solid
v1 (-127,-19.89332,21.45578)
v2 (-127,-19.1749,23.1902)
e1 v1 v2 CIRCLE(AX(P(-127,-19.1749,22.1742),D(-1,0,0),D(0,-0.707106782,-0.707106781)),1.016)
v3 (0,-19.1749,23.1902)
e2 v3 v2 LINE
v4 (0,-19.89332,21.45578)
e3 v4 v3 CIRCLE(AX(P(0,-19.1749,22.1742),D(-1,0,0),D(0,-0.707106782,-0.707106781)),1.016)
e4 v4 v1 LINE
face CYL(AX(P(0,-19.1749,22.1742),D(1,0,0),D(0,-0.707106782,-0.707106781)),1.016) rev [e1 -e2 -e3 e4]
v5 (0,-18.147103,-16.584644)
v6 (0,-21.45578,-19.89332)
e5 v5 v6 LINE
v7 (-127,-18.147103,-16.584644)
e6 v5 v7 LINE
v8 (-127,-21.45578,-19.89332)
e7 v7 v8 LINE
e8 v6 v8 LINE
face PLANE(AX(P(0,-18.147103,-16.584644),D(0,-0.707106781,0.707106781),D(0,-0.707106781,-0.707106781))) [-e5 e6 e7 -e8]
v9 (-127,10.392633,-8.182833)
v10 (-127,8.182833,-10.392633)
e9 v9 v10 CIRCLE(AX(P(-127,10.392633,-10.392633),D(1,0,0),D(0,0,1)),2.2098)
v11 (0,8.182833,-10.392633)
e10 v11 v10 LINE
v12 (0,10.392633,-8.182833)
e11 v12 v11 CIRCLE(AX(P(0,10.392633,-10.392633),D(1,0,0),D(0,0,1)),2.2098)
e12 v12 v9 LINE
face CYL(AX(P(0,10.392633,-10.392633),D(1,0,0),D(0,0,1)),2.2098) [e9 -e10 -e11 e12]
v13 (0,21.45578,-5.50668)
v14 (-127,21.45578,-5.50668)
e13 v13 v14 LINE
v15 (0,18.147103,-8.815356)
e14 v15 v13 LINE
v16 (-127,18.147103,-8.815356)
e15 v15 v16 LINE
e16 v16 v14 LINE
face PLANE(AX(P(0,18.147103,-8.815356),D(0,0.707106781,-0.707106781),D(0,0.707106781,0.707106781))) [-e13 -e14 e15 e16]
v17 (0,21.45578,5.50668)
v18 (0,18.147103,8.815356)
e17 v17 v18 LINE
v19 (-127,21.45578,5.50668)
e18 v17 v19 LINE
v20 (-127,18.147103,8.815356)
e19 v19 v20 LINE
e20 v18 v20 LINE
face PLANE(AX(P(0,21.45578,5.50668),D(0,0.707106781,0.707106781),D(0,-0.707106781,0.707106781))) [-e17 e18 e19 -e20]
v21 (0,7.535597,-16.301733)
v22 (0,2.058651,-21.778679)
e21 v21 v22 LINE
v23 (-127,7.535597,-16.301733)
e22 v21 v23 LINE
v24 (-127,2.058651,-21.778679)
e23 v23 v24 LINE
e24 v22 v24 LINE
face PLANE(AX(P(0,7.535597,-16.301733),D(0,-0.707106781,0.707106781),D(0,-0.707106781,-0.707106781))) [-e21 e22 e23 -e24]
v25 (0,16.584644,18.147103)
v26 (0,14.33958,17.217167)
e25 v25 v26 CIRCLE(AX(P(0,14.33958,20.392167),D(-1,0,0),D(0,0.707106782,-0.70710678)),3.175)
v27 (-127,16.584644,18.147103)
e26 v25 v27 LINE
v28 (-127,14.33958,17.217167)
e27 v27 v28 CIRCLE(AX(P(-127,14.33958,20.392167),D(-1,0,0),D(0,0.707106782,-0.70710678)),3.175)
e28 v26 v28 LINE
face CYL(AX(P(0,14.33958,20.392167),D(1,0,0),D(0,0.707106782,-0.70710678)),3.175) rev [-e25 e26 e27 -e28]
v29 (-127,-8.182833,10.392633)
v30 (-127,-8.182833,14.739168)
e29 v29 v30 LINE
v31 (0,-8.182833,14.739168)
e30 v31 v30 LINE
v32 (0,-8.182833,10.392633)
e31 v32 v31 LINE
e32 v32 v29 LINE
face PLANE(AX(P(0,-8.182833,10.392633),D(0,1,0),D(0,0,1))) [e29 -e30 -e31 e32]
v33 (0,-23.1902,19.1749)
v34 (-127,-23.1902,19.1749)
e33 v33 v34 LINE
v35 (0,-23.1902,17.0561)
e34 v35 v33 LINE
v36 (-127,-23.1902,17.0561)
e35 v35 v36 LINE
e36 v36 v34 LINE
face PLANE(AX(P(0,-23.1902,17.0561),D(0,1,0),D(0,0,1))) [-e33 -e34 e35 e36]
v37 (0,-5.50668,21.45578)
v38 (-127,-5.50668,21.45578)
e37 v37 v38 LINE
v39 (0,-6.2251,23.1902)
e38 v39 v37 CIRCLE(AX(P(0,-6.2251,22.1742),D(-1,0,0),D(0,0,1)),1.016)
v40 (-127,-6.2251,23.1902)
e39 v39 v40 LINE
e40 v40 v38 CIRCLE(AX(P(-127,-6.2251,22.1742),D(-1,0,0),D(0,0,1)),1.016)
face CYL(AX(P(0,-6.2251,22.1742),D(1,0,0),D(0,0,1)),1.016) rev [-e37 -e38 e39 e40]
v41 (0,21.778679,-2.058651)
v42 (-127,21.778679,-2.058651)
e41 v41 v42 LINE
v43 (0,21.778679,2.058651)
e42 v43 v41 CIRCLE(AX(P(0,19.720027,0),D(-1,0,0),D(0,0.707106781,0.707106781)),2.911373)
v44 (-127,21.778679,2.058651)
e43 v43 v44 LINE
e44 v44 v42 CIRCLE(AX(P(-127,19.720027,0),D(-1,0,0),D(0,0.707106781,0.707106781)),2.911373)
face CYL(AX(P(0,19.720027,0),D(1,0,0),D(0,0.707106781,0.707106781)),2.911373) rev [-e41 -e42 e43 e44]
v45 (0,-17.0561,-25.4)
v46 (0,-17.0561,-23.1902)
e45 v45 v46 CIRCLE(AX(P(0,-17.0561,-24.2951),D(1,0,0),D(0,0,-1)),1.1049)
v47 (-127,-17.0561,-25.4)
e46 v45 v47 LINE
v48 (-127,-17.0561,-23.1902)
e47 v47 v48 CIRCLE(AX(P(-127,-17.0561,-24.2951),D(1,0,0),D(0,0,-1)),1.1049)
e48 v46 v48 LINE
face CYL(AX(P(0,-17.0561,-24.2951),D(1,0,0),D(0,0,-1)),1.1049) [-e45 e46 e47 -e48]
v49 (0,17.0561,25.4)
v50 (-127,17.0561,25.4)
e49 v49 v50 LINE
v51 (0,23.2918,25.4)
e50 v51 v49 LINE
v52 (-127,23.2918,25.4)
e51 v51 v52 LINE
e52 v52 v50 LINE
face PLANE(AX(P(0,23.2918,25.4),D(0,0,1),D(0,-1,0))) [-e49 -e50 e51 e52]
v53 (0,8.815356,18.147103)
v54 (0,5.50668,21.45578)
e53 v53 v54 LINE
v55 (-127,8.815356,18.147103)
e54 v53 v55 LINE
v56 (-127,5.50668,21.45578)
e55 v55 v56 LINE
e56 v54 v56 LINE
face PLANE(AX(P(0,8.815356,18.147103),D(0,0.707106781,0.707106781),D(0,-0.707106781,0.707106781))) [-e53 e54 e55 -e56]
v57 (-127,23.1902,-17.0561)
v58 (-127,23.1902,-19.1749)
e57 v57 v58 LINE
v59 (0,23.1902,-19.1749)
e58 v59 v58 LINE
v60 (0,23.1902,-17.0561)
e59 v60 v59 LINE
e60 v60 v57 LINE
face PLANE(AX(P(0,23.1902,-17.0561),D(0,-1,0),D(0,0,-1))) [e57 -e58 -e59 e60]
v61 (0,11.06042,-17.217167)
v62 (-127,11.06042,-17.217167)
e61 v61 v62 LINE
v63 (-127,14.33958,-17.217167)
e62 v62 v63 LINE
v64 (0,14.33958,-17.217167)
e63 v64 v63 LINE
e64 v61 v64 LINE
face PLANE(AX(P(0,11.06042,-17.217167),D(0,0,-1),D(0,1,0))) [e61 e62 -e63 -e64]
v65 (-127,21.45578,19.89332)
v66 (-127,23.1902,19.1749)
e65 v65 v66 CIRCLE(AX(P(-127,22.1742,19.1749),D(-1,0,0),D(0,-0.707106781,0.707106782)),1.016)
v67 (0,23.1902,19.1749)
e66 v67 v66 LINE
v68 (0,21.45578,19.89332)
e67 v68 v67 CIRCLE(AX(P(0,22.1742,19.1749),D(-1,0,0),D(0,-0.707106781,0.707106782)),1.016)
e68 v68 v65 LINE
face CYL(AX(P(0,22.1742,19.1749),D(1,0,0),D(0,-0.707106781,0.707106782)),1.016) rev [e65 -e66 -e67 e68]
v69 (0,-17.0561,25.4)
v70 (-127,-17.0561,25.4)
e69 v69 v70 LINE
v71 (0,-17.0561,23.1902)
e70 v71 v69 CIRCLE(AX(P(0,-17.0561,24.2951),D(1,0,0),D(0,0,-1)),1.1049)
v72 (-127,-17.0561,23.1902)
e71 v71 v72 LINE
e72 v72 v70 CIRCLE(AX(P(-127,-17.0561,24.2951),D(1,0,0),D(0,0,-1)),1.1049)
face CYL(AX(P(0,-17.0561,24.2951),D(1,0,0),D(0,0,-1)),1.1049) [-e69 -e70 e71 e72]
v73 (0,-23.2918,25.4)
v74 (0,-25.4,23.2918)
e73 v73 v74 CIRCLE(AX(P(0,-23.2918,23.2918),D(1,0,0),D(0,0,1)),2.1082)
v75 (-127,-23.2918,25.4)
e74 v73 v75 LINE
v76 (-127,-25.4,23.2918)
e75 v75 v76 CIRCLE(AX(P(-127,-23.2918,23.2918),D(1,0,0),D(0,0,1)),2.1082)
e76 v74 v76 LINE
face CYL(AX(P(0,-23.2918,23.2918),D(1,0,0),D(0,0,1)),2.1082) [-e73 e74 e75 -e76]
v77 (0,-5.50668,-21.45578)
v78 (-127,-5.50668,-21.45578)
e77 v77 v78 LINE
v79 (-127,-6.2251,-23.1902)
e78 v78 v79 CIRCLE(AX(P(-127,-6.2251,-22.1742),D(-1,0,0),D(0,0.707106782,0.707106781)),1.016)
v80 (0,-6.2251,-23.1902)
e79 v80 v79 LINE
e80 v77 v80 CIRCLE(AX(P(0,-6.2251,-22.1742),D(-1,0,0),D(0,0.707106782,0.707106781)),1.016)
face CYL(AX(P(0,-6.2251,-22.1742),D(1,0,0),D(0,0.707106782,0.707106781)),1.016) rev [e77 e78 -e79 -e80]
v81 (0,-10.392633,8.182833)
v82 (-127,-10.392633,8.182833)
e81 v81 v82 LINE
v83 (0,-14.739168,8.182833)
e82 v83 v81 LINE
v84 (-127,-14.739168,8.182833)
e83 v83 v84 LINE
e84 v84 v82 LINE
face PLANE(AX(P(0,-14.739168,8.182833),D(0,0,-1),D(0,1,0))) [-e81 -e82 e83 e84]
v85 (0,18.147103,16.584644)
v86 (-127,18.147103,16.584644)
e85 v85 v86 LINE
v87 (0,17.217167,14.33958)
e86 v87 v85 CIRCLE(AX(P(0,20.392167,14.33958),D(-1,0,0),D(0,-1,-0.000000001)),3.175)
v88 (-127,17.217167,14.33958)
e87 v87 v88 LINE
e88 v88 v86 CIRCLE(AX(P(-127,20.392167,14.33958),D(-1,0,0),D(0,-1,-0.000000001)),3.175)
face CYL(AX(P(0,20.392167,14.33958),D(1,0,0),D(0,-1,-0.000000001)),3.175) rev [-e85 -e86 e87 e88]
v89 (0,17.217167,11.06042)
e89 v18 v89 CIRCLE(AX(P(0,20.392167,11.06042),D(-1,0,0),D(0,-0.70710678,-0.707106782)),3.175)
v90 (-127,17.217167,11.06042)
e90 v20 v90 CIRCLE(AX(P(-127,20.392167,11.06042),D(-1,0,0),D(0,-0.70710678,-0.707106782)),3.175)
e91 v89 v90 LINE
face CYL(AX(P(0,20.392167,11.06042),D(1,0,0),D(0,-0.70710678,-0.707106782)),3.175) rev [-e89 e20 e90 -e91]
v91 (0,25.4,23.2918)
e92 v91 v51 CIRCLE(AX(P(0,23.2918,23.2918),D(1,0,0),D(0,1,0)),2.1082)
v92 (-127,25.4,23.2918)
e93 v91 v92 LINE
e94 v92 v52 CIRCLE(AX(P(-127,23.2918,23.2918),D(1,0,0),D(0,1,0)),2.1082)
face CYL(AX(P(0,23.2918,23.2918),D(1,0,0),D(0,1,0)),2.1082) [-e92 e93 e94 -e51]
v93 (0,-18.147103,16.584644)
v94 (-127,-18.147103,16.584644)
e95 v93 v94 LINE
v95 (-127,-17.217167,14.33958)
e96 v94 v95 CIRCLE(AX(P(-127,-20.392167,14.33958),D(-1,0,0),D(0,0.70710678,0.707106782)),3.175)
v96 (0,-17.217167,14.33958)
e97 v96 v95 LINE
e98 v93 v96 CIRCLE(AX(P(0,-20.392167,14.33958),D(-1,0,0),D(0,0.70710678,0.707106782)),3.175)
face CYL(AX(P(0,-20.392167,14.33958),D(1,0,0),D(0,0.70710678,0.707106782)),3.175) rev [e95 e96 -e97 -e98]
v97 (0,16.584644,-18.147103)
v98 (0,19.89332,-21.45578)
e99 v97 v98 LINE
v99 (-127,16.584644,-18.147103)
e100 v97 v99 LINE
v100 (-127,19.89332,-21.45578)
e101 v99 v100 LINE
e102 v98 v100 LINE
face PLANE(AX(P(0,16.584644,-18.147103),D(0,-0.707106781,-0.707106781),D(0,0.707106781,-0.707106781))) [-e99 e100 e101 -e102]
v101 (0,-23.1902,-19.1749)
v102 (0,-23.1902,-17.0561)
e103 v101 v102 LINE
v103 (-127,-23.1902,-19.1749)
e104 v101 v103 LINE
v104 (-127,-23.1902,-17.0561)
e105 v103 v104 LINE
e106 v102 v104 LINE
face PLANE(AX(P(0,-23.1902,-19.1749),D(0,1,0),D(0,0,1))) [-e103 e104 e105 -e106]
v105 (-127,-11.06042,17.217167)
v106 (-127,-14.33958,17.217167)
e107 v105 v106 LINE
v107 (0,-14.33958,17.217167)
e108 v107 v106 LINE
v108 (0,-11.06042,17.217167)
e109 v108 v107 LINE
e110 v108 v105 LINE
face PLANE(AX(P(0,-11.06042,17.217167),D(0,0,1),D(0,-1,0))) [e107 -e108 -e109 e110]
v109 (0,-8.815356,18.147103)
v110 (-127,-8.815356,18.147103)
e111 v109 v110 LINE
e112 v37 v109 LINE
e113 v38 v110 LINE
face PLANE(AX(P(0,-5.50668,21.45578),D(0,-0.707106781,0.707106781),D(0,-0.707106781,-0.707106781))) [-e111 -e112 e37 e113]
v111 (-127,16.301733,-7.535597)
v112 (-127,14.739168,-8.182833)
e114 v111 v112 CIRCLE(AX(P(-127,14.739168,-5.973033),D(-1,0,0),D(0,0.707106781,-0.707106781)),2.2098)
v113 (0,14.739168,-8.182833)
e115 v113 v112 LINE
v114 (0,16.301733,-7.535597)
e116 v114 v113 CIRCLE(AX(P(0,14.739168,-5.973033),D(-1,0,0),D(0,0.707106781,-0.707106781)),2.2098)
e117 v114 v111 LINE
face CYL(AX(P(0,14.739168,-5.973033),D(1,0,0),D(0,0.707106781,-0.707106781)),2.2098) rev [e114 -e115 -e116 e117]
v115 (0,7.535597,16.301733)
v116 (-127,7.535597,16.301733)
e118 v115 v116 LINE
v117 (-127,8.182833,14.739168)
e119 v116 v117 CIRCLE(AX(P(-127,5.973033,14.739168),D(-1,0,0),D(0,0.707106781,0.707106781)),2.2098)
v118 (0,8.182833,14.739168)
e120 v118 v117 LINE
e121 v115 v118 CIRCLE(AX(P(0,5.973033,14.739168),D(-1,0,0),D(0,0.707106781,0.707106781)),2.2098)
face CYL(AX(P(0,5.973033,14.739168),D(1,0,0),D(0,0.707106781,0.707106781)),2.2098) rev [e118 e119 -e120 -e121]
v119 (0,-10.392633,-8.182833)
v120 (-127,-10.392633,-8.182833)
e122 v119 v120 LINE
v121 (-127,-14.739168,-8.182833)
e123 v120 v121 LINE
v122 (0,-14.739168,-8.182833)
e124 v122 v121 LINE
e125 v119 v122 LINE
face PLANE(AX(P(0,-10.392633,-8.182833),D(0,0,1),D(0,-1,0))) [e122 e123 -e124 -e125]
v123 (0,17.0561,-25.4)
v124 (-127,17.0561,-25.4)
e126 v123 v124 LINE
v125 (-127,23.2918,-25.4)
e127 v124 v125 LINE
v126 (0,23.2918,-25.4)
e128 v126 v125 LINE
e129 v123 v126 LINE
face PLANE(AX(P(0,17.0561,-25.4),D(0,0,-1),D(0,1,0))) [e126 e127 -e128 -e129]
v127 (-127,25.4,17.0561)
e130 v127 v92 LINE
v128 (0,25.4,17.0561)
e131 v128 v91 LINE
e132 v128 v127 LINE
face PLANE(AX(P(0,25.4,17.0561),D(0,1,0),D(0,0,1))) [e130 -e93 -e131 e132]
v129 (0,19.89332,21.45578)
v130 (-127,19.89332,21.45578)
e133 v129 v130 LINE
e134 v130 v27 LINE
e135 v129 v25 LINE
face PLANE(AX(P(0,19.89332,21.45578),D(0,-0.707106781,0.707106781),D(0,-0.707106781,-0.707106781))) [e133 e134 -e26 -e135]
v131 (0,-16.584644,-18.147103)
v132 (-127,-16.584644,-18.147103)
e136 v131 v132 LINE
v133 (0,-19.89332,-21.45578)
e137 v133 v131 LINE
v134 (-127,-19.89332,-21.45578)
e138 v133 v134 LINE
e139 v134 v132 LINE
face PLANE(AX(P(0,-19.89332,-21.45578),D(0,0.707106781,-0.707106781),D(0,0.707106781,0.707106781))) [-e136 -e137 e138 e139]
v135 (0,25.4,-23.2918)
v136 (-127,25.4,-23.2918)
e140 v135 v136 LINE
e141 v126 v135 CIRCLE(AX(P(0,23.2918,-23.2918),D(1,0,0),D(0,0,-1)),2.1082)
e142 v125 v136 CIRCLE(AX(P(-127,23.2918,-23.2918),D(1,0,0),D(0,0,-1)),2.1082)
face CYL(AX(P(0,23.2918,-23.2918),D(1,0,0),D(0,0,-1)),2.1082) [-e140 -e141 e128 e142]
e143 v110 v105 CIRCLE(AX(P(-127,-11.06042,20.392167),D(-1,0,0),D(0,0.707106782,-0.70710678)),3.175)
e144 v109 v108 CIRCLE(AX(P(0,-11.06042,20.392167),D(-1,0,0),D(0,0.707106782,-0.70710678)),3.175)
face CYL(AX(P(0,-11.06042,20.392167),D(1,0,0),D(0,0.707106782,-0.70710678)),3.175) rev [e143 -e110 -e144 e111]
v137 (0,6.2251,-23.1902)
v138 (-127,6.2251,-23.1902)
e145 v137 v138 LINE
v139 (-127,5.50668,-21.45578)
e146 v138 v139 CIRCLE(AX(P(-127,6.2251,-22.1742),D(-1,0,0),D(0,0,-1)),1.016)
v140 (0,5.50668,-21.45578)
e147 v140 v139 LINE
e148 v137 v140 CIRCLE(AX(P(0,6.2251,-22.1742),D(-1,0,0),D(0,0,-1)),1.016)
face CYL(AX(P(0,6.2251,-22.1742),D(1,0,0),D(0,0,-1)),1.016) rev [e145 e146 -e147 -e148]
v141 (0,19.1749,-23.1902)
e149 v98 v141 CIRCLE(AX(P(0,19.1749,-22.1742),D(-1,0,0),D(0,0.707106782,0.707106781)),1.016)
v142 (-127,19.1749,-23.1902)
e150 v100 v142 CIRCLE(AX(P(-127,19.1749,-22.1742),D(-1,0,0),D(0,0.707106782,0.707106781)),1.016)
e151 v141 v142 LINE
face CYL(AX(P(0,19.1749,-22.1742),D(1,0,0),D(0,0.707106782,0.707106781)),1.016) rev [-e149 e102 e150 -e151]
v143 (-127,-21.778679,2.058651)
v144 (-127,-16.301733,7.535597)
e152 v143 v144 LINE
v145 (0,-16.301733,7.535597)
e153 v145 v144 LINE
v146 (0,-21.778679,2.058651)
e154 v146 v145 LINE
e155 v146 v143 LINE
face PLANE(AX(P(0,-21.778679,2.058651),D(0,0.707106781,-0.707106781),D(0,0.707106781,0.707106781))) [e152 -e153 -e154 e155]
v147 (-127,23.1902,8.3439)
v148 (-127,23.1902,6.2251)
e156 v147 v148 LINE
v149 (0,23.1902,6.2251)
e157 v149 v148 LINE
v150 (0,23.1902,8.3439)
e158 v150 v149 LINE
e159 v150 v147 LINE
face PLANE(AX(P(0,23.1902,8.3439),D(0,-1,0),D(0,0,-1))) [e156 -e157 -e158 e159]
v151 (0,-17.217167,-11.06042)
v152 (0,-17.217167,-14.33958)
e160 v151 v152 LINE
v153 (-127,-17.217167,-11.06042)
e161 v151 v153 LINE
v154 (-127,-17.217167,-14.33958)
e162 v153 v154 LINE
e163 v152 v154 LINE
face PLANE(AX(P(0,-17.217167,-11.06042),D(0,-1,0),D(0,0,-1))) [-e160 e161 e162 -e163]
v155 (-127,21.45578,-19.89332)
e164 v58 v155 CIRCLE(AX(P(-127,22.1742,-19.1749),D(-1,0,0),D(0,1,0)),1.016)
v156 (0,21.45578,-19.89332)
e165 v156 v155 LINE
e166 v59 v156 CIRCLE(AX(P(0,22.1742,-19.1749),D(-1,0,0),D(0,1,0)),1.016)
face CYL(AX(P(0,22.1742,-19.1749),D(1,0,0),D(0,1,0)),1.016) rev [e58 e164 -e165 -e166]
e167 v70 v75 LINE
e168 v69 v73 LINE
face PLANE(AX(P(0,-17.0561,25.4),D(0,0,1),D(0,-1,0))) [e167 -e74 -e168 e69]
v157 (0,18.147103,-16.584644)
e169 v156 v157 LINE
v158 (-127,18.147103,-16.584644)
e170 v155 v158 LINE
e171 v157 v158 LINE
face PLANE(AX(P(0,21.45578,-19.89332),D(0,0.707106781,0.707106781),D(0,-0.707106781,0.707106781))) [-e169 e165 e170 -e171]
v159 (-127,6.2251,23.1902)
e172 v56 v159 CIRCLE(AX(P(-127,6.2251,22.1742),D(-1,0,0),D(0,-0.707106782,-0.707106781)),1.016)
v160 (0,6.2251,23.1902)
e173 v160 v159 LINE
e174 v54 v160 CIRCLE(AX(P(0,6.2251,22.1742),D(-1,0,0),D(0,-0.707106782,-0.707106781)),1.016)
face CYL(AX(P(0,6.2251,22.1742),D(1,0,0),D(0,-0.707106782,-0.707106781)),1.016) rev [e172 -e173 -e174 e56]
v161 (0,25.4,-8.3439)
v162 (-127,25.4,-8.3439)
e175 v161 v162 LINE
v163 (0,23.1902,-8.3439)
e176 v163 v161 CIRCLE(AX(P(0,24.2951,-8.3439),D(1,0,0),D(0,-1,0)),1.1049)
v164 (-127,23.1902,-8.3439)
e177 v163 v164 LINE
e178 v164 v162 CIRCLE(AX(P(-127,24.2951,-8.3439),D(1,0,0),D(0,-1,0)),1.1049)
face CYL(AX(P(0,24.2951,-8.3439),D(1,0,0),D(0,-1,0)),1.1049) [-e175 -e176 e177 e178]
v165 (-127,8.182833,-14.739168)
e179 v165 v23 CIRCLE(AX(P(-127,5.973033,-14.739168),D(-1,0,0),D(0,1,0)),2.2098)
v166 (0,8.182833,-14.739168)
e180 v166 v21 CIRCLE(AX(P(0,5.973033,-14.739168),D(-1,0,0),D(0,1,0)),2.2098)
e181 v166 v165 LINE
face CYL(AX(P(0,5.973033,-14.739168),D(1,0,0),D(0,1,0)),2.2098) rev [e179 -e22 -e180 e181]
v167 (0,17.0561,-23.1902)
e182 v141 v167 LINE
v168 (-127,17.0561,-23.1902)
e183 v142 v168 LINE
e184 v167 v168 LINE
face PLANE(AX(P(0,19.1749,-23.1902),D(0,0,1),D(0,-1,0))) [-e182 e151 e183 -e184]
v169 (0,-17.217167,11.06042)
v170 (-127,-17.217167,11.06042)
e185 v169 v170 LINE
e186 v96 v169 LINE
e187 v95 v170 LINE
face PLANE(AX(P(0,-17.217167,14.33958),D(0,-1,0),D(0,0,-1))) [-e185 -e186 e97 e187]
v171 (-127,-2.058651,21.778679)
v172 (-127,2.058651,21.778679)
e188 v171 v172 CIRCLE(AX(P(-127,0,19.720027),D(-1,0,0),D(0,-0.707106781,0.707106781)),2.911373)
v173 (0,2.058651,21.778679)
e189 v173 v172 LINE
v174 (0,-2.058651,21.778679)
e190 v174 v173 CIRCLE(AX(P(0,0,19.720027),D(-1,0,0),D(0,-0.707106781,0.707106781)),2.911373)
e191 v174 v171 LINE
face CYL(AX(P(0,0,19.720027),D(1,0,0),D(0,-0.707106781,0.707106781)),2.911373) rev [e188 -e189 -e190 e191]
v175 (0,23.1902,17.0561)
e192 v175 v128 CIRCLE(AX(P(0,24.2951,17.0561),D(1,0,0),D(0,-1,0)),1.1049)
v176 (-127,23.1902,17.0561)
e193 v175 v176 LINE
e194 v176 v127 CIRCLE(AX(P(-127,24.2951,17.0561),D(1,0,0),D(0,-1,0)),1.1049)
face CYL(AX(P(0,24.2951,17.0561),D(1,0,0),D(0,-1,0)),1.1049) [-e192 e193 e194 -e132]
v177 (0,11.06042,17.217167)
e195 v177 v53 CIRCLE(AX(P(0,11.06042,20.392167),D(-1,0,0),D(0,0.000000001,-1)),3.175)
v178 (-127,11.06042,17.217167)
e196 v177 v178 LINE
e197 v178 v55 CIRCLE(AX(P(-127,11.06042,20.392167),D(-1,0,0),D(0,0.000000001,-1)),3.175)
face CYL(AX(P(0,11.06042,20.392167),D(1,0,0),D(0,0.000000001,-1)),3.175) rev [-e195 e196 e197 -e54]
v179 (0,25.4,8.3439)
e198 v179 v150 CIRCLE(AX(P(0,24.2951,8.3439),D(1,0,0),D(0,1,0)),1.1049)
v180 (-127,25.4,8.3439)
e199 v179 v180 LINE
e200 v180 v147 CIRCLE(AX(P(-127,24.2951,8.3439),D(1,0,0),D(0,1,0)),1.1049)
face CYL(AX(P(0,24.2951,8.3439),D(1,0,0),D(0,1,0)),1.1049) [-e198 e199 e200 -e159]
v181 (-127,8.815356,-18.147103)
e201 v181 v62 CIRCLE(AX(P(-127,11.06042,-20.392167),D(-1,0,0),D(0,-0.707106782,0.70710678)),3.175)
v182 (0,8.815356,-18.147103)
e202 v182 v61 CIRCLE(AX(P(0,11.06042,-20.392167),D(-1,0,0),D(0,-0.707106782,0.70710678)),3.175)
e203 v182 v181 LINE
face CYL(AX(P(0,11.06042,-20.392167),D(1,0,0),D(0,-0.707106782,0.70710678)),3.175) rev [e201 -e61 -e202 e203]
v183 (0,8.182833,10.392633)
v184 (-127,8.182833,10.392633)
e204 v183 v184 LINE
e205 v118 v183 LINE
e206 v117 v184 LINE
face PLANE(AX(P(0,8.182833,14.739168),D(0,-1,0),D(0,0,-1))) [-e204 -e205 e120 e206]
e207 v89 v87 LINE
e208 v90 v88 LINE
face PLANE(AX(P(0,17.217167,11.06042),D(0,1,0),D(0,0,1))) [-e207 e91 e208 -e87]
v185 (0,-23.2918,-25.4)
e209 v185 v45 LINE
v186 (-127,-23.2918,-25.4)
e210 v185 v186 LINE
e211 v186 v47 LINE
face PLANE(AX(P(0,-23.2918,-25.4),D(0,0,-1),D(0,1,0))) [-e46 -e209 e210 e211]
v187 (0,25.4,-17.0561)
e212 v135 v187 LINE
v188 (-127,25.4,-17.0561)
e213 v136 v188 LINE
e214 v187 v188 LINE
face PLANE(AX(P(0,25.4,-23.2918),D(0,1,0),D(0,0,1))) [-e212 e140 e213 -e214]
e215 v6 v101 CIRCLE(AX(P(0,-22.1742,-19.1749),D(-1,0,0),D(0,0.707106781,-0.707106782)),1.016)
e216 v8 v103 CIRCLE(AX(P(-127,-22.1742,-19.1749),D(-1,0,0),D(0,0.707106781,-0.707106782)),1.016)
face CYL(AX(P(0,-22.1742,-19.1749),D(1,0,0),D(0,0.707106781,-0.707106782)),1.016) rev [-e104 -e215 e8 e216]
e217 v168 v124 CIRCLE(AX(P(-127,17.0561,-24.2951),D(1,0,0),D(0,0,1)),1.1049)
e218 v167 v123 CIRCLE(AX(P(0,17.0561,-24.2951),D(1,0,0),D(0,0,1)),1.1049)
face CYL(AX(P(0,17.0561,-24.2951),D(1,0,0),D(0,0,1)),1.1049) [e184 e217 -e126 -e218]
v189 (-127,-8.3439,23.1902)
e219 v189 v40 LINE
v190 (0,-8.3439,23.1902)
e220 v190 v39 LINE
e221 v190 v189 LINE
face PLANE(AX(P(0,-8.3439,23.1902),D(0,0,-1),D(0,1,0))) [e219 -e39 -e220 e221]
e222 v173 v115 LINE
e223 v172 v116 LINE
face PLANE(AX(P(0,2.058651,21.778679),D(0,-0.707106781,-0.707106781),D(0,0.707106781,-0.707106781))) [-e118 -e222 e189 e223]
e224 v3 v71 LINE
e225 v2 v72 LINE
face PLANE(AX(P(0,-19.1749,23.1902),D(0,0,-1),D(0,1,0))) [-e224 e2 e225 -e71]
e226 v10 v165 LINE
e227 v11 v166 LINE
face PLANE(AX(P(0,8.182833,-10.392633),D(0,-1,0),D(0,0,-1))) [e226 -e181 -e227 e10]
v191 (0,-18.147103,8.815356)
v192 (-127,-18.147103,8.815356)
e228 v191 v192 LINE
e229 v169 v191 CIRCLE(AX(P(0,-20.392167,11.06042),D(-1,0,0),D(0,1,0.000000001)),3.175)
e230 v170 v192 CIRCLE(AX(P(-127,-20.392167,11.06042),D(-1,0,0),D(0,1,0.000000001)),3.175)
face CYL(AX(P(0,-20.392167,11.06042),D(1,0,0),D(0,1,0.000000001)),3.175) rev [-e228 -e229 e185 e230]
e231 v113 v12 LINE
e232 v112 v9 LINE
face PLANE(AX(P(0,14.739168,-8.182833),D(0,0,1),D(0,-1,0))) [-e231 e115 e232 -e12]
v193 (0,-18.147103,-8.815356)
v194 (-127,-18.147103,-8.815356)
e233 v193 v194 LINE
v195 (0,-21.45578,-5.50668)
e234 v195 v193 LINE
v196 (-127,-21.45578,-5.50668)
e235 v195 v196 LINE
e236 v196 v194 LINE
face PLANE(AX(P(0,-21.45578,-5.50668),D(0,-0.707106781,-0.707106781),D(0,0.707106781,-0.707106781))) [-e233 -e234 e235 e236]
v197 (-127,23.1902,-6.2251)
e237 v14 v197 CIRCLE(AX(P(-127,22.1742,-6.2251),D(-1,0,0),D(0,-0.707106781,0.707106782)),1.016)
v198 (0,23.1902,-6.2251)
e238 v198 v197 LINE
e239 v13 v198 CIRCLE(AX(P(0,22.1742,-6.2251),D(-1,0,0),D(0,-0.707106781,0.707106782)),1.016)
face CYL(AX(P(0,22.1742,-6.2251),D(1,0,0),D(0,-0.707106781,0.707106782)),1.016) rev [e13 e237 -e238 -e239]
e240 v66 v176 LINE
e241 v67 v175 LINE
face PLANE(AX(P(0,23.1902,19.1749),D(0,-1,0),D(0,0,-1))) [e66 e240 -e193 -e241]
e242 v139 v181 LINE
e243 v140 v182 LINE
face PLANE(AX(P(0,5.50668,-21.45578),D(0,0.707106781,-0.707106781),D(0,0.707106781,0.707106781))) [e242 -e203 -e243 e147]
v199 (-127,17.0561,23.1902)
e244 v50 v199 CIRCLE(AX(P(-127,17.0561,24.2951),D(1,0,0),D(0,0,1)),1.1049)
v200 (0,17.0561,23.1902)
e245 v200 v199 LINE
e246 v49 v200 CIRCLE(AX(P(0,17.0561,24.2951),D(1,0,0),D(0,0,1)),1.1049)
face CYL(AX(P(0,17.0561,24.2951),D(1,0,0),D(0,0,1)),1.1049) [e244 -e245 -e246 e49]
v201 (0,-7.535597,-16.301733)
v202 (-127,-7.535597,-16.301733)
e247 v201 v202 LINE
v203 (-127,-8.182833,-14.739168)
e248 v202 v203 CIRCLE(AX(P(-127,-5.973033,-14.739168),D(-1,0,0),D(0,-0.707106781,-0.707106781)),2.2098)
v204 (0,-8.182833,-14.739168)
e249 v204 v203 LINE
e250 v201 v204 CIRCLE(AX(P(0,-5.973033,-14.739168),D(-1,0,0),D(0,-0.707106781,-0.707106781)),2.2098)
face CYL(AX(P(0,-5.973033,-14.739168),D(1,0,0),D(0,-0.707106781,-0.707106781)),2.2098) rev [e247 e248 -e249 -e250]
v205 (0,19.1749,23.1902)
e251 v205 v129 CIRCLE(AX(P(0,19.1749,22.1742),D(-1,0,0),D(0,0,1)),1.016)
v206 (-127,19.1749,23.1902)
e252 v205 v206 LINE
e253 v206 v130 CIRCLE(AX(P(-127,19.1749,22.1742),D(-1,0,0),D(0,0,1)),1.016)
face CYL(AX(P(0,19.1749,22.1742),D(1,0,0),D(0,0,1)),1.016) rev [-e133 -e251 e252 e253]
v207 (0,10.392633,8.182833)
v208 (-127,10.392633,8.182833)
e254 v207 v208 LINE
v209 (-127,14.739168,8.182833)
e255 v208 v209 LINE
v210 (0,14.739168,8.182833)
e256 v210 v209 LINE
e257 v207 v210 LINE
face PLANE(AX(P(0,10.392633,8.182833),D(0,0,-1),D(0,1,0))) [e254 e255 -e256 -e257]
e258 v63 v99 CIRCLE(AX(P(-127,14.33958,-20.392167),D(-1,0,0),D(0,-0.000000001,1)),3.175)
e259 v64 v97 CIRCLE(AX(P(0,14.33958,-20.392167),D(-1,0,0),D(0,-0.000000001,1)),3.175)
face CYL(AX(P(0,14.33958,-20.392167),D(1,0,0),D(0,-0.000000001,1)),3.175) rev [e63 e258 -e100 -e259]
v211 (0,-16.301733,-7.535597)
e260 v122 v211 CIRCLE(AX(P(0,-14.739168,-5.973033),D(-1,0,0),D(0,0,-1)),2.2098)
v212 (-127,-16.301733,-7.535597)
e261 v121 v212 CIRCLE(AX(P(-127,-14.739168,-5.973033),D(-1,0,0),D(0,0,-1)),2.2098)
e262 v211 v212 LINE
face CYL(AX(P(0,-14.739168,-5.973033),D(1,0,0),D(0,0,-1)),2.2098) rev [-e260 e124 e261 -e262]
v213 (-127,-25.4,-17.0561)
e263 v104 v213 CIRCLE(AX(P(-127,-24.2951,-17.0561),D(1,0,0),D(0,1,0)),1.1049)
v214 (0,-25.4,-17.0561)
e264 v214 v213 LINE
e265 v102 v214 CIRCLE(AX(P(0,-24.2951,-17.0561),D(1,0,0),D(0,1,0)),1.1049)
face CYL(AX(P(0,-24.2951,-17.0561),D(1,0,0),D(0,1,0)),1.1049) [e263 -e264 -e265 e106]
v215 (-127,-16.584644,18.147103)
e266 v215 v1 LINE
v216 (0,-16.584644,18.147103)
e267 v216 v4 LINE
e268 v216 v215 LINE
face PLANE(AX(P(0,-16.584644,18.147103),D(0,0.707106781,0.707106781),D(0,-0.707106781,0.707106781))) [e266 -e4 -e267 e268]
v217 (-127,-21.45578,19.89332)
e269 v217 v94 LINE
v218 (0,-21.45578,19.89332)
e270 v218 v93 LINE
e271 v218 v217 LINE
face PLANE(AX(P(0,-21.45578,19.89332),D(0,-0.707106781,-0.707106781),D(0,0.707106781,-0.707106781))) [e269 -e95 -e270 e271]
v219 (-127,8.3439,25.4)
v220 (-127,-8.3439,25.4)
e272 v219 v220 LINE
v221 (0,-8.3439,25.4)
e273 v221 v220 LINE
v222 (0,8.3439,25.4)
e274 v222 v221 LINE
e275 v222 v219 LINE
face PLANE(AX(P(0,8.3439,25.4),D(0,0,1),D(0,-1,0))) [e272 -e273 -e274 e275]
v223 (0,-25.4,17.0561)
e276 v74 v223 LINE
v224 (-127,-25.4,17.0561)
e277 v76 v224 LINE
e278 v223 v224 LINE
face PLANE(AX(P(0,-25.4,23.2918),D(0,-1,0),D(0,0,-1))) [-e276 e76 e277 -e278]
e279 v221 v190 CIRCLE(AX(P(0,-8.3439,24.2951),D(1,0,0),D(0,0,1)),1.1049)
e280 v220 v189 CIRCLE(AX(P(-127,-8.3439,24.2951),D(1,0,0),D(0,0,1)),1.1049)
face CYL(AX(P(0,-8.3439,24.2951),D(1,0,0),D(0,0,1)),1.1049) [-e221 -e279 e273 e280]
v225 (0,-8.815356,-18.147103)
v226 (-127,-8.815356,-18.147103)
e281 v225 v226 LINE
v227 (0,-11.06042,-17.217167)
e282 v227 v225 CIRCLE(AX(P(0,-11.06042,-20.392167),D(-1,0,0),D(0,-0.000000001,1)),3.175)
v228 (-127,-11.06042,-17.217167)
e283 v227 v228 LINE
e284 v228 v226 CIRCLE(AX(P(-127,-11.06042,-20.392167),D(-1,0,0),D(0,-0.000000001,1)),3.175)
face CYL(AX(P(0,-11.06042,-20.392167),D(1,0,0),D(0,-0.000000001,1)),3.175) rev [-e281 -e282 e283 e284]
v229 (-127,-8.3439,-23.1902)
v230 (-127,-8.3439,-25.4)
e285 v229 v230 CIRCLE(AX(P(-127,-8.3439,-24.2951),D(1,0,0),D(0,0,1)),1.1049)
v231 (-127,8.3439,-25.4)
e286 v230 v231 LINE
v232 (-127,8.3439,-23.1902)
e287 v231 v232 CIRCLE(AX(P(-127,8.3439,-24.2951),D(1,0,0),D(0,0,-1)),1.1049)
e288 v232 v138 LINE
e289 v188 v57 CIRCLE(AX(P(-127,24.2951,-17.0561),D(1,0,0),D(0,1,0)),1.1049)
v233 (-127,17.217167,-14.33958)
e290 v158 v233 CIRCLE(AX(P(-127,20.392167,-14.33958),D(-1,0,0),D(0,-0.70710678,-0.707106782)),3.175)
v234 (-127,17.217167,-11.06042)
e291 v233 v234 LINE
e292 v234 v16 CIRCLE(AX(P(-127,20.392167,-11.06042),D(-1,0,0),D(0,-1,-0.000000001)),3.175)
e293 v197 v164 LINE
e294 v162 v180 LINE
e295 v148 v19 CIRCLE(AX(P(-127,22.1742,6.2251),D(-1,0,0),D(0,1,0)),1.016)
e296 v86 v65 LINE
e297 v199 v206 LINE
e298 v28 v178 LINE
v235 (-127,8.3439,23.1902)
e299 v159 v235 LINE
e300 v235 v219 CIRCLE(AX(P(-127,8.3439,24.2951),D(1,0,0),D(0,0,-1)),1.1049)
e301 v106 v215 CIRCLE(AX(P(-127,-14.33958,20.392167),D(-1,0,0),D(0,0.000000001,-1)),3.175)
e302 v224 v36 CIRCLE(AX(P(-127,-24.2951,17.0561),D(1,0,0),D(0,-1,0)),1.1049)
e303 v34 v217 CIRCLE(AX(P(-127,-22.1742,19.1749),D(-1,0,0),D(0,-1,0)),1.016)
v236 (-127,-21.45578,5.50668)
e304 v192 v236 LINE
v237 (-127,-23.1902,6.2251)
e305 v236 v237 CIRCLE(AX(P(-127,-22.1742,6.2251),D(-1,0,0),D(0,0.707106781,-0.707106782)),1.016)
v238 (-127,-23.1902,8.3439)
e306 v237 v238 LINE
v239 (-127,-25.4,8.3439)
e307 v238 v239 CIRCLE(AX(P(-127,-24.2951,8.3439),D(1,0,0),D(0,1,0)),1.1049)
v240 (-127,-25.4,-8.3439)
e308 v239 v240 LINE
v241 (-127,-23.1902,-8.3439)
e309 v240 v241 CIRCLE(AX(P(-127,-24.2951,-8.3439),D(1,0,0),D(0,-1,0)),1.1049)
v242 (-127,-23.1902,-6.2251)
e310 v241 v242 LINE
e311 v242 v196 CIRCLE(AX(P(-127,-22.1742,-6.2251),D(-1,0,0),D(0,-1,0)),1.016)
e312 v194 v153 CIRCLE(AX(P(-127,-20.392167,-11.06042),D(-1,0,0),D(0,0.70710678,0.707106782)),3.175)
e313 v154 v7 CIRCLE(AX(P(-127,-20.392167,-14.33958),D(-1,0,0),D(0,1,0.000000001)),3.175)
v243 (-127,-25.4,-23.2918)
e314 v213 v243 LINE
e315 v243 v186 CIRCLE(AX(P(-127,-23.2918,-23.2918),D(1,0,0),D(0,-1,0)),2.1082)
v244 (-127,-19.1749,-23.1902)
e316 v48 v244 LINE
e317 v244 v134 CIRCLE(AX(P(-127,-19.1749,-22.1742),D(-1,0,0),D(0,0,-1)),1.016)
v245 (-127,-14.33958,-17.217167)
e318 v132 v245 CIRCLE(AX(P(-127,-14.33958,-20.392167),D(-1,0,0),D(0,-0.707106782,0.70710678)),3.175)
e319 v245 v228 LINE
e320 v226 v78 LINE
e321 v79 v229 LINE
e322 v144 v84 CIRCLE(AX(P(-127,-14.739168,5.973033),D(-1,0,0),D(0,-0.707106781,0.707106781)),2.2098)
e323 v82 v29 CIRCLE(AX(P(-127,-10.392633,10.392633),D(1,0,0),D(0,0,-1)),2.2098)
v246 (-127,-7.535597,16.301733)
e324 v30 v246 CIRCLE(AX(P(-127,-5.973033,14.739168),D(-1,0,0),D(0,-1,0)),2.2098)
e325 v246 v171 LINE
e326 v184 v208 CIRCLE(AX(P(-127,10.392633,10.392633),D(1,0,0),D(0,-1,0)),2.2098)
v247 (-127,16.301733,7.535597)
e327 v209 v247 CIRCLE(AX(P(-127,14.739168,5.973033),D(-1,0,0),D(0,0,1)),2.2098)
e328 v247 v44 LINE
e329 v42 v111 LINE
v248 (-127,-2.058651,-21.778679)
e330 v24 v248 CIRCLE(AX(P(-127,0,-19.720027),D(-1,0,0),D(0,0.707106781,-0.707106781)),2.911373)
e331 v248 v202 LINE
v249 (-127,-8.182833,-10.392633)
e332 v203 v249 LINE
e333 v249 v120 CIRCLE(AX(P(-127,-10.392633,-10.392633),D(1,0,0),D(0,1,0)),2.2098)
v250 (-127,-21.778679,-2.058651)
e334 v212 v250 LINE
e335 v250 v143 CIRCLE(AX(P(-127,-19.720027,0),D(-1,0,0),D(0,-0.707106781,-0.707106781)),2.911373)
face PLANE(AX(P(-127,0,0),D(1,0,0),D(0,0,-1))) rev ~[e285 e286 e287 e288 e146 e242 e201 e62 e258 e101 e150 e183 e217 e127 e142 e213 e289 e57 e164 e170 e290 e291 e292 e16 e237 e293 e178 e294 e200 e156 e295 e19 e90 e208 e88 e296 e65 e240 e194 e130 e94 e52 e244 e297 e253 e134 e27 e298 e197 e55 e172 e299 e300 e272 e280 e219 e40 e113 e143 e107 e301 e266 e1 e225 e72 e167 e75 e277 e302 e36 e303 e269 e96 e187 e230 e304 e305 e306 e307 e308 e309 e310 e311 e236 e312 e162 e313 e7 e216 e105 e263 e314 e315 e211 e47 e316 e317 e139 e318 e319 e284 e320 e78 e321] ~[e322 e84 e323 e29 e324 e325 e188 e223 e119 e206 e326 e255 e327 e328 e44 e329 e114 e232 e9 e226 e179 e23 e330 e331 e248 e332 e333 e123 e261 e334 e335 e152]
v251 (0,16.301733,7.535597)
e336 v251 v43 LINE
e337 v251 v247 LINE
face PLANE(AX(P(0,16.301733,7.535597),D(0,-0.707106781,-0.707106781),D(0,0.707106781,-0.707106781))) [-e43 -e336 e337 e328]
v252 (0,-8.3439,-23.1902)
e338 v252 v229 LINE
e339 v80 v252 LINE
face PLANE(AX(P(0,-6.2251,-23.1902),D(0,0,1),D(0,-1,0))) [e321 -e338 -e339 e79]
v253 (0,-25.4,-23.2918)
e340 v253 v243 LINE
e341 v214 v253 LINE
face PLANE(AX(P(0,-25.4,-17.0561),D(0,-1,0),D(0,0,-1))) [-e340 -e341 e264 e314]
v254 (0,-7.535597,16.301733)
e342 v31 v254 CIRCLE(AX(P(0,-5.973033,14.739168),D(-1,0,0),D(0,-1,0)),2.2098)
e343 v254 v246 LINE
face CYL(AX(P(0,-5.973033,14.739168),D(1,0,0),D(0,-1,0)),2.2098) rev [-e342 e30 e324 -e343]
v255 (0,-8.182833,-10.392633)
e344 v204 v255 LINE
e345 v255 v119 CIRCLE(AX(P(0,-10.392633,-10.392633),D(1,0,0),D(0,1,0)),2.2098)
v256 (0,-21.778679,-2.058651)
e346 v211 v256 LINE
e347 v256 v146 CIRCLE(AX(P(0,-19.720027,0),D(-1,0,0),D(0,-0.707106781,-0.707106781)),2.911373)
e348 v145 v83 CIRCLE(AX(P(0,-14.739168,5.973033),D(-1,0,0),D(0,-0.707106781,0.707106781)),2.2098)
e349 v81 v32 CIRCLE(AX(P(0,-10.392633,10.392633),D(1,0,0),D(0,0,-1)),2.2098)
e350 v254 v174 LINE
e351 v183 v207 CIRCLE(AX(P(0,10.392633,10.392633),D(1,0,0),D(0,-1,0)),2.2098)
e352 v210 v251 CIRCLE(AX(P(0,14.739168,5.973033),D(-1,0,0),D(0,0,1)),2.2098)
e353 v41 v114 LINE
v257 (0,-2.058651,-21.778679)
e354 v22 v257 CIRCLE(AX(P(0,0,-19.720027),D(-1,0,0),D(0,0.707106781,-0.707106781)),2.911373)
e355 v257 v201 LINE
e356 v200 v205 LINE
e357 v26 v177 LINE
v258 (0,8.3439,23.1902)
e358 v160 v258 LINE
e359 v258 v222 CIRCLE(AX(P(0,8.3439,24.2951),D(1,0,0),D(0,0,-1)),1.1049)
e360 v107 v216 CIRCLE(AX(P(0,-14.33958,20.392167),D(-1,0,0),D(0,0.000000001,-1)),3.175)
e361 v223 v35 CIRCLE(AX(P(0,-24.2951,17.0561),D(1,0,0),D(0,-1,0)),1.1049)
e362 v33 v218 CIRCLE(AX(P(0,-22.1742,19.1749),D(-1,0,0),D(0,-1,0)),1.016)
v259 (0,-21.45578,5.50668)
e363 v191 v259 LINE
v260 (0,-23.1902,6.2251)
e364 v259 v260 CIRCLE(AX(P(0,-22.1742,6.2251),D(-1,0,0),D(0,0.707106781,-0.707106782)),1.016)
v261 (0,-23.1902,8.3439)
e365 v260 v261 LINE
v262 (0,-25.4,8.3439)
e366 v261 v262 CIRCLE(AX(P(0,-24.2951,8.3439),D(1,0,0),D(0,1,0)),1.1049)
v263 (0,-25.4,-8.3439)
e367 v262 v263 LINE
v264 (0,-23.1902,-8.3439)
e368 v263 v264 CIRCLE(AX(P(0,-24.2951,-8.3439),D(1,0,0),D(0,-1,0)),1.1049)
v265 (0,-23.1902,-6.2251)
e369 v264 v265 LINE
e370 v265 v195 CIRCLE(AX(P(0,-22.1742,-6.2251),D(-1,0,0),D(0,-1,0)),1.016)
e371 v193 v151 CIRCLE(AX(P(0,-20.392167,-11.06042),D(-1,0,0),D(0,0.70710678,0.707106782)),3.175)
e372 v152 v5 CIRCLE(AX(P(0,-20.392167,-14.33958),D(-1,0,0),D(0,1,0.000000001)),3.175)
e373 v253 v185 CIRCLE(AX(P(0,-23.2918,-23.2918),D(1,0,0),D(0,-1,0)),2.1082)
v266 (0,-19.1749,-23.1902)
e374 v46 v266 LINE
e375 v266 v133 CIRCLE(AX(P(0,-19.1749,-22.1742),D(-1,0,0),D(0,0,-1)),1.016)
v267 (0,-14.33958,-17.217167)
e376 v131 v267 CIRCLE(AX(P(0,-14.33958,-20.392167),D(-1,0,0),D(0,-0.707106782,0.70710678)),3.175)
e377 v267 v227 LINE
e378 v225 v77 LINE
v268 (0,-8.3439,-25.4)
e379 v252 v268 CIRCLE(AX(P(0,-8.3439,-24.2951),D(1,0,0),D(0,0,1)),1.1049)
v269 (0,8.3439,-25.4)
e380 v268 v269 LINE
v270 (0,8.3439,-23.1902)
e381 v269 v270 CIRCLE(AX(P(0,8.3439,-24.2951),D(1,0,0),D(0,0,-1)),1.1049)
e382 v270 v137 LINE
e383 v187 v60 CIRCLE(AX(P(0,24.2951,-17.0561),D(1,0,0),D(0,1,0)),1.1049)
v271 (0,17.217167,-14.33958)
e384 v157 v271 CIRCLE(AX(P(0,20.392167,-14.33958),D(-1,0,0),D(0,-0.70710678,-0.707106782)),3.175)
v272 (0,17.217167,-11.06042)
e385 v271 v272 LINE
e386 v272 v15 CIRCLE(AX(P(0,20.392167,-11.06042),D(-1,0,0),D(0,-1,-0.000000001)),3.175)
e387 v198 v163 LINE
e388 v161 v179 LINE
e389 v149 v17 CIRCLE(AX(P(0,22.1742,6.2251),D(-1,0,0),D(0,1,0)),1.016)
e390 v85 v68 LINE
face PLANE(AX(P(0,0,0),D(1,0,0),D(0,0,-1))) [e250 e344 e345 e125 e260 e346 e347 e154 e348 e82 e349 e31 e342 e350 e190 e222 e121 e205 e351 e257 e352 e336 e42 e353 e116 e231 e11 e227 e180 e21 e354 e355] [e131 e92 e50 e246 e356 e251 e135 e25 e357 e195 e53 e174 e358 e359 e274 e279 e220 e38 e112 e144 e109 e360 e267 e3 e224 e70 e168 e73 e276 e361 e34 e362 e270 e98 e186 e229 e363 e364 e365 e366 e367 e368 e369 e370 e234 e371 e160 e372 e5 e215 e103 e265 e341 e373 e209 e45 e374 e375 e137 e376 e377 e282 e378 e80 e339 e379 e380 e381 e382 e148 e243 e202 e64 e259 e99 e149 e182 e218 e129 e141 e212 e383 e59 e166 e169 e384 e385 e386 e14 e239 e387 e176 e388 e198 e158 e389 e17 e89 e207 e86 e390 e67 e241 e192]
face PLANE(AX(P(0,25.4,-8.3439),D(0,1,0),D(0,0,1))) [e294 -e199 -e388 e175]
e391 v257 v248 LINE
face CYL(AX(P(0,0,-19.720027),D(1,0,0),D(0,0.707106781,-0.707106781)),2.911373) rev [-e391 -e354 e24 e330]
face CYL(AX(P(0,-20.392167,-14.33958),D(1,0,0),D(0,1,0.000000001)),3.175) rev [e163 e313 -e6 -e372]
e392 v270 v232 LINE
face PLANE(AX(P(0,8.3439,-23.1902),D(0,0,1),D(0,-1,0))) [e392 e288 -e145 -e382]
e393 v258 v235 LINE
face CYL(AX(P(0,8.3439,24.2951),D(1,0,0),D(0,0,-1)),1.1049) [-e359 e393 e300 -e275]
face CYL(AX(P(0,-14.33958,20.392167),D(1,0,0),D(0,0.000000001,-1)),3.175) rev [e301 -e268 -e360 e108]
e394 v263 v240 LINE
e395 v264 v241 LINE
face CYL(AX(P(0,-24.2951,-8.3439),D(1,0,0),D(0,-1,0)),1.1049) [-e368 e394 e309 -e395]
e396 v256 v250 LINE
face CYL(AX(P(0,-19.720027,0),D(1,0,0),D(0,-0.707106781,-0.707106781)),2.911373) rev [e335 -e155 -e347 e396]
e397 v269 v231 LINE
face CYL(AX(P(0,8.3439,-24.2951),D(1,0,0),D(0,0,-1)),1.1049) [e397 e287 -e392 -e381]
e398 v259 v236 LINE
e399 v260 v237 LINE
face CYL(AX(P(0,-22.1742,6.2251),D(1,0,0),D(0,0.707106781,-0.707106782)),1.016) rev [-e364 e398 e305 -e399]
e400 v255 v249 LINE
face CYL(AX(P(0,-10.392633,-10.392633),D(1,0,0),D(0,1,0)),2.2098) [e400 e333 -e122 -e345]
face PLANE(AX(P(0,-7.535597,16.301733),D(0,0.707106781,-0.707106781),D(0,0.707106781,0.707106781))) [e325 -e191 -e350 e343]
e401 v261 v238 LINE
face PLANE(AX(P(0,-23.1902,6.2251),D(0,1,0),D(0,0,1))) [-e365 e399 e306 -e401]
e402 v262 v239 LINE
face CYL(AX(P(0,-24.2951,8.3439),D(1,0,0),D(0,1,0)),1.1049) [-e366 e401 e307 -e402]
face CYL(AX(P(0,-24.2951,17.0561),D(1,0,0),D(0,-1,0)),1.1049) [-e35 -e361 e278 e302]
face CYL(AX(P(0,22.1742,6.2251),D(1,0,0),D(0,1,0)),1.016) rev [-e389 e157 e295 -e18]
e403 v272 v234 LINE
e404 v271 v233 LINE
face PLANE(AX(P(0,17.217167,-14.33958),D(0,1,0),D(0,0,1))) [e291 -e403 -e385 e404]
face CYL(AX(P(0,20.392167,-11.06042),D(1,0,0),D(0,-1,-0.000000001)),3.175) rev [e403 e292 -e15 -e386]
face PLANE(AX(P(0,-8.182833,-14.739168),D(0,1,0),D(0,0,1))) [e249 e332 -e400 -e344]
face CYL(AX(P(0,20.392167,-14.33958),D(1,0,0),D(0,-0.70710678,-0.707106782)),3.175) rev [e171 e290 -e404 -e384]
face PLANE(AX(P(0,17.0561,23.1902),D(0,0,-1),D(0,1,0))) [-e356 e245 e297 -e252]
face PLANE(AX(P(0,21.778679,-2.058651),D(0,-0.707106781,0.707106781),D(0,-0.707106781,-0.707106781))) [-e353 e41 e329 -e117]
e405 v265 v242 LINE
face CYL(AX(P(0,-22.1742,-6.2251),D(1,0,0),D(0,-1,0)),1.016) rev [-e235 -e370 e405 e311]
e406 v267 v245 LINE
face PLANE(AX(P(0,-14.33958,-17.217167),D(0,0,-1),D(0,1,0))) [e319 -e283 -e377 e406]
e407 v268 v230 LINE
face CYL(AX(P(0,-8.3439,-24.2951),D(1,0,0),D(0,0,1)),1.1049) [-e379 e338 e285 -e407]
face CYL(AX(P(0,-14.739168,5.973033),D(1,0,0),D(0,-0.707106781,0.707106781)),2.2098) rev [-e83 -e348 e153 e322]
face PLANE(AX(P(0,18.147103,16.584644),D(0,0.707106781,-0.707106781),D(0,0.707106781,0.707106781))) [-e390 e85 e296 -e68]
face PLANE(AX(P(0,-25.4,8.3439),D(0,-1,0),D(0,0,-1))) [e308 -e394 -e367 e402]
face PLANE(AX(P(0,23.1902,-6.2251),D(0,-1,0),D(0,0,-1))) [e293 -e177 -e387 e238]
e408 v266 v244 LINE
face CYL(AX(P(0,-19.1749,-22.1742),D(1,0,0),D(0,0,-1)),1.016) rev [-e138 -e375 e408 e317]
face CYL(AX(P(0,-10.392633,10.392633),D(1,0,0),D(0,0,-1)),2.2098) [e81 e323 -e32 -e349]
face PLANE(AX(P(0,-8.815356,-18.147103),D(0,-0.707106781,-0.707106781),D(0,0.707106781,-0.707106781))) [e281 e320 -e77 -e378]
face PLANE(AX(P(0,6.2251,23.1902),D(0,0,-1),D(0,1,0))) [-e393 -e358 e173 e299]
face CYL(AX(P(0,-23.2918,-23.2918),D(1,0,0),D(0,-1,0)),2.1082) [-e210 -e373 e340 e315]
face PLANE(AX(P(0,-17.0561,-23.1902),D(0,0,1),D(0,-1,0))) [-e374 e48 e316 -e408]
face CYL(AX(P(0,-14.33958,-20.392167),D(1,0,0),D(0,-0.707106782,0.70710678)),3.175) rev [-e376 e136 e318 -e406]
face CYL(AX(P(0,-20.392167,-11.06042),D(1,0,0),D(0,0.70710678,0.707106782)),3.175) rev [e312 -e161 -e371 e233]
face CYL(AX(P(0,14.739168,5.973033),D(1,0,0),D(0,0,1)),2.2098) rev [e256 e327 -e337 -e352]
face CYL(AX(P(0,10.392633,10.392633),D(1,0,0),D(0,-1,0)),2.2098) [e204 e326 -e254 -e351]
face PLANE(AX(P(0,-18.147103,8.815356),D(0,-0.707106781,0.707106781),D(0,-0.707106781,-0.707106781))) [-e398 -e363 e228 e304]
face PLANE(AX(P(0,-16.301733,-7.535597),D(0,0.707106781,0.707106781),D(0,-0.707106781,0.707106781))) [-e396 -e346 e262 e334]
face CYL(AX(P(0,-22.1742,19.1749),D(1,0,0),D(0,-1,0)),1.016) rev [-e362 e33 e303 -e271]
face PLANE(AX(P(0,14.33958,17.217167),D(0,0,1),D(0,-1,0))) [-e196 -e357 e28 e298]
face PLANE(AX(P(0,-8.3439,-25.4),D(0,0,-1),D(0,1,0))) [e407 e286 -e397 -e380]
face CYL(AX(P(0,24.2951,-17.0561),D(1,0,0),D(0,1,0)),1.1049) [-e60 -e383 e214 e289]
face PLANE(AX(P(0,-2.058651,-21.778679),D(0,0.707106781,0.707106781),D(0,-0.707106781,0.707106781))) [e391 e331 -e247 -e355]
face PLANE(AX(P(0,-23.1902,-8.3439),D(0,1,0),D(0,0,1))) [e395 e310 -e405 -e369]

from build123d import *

# Parameters (mm, degrees)
BOSS_EXTRUDE1_DEPTH = 127


with BuildPart() as part:
    # Sketch1 → Boss-Extrude1 (new body)
    with BuildSketch(Plane(origin=(0, 0, 0), x_dir=(0, 0, -1), z_dir=(1, 0, 0))):
        with BuildLine():
            Line((23.1902, 19.174899798), (23.1902, 17.0561))
            ThreePointArc((23.1902, 17.0561), (24.2951, 15.9512), (25.4, 17.0561))
            Line((25.4, 17.0561), (25.4, 23.2918))
            ThreePointArc((25.4, 23.2918), (24.782522516, 24.782522516), (23.2918, 25.4))
            Line((23.2918, 25.4), (17.0561, 25.4))
            ThreePointArc((17.0561, 25.4), (15.9512, 24.2951), (17.0561, 23.1902))
            Line((17.0561, 23.1902), (19.174899798, 23.1902))
            ThreePointArc((19.174899798, 23.1902), (20.113561403, 22.563006367), (19.893320288, 21.45577951))
            Line((19.893320288, 21.45577951), (16.58464389, 18.147103113))
            ThreePointArc((16.58464389, 18.147103113), (15.554599758, 17.458849627), (14.33957986, 17.217167143))
            Line((14.33957986, 17.217167143), (11.06042014, 17.217167143))
            ThreePointArc((11.06042014, 17.217167143), (9.845400242, 17.458849627), (8.81535611, 18.147103113))
            Line((8.81535611, 18.147103113), (5.506679712, 21.45577951))
            ThreePointArc((5.506679712, 21.45577951), (5.286438597, 22.563006367), (6.225100202, 23.1902))
            Line((6.225100202, 23.1902), (8.3439, 23.1902))
            ThreePointArc((8.3439, 23.1902), (9.4488, 24.2951), (8.3439, 25.4))
            Line((8.3439, 25.4), (-8.3439, 25.4))
            ThreePointArc((-8.3439, 25.4), (-9.4488, 24.2951), (-8.3439, 23.1902))
            Line((-8.3439, 23.1902), (-6.225100202, 23.1902))
            ThreePointArc((-6.225100202, 23.1902), (-5.286438597, 22.563006367), (-5.506679712, 21.45577951))
            Line((-5.506679712, 21.45577951), (-8.81535611, 18.147103113))
            ThreePointArc((-8.81535611, 18.147103113), (-9.845400242, 17.458849627), (-11.06042014, 17.217167143))
            Line((-11.06042014, 17.217167143), (-14.33957986, 17.217167143))
            ThreePointArc((-14.33957986, 17.217167143), (-15.554599758, 17.458849627), (-16.58464389, 18.147103113))
            Line((-16.58464389, 18.147103113), (-19.893320288, 21.45577951))
            ThreePointArc((-19.893320288, 21.45577951), (-20.113561403, 22.563006367), (-19.174899798, 23.1902))
            Line((-19.174899798, 23.1902), (-17.0561, 23.1902))
            ThreePointArc((-17.0561, 23.1902), (-15.9512, 24.2951), (-17.0561, 25.4))
            Line((-17.0561, 25.4), (-23.2918, 25.4))
            ThreePointArc((-23.2918, 25.4), (-24.782522516, 24.782522516), (-25.4, 23.2918))
            Line((-25.4, 23.2918), (-25.4, 17.0561))
            ThreePointArc((-25.4, 17.0561), (-24.2951, 15.9512), (-23.1902, 17.0561))
            Line((-23.1902, 17.0561), (-23.1902, 19.174899798))
            ThreePointArc((-23.1902, 19.174899798), (-22.563006367, 20.113561403), (-21.45577951, 19.893320288))
            Line((-21.45577951, 19.893320288), (-18.147103113, 16.58464389))
            ThreePointArc((-18.147103113, 16.58464389), (-17.458849627, 15.554599758), (-17.217167143, 14.33957986))
            Line((-17.217167143, 14.33957986), (-17.217167143, 11.06042014))
            ThreePointArc((-17.217167143, 11.06042014), (-17.458849627, 9.845400242), (-18.147103113, 8.81535611))
            Line((-18.147103113, 8.81535611), (-21.45577951, 5.506679712))
            ThreePointArc((-21.45577951, 5.506679712), (-22.563006367, 5.286438597), (-23.1902, 6.225100202))
            Line((-23.1902, 6.225100202), (-23.1902, 8.3439))
            ThreePointArc((-23.1902, 8.3439), (-24.2951, 9.4488), (-25.4, 8.3439))
            Line((-25.4, 8.3439), (-25.4, -8.3439))
            ThreePointArc((-25.4, -8.3439), (-24.2951, -9.4488), (-23.1902, -8.3439))
            Line((-23.1902, -8.3439), (-23.1902, -6.225100202))
            ThreePointArc((-23.1902, -6.225100202), (-22.563006367, -5.286438597), (-21.45577951, -5.506679712))
            Line((-21.45577951, -5.506679712), (-18.147103113, -8.81535611))
            ThreePointArc((-18.147103113, -8.81535611), (-17.458849627, -9.845400242), (-17.217167143, -11.06042014))
            Line((-17.217167143, -11.06042014), (-17.217167143, -14.33957986))
            ThreePointArc((-17.217167143, -14.33957986), (-17.458849627, -15.554599758), (-18.147103113, -16.58464389))
            Line((-18.147103113, -16.58464389), (-21.45577951, -19.893320288))
            ThreePointArc((-21.45577951, -19.893320288), (-22.563006367, -20.113561403), (-23.1902, -19.174899798))
            Line((-23.1902, -19.174899798), (-23.1902, -17.0561))
            ThreePointArc((-23.1902, -17.0561), (-24.2951, -15.9512), (-25.4, -17.0561))
            Line((-25.4, -17.0561), (-25.4, -23.2918))
            ThreePointArc((-25.4, -23.2918), (-24.782522516, -24.782522516), (-23.2918, -25.4))
            Line((-23.2918, -25.4), (-17.0561, -25.4))
            ThreePointArc((-17.0561, -25.4), (-15.9512, -24.2951), (-17.0561, -23.1902))
            Line((-17.0561, -23.1902), (-19.174899798, -23.1902))
            ThreePointArc((-19.174899798, -23.1902), (-20.113561403, -22.563006367), (-19.893320288, -21.45577951))
            Line((-19.893320288, -21.45577951), (-16.58464389, -18.147103113))
            ThreePointArc((-16.58464389, -18.147103113), (-15.554599758, -17.458849627), (-14.33957986, -17.217167143))
            Line((-14.33957986, -17.217167143), (-11.06042014, -17.217167143))
            ThreePointArc((-11.06042014, -17.217167143), (-9.845400242, -17.458849627), (-8.81535611, -18.147103113))
            Line((-8.81535611, -18.147103113), (-5.506679712, -21.45577951))
            ThreePointArc((-5.506679712, -21.45577951), (-5.286438597, -22.563006367), (-6.225100202, -23.1902))
            Line((-6.225100202, -23.1902), (-8.3439, -23.1902))
            ThreePointArc((-8.3439, -23.1902), (-9.4488, -24.2951), (-8.3439, -25.4))
            Line((-8.3439, -25.4), (8.3439, -25.4))
            ThreePointArc((8.3439, -25.4), (9.4488, -24.2951), (8.3439, -23.1902))
            Line((8.3439, -23.1902), (6.225100202, -23.1902))
            ThreePointArc((6.225100202, -23.1902), (5.286438597, -22.563006367), (5.506679712, -21.45577951))
            Line((5.506679712, -21.45577951), (8.81535611, -18.147103113))
            ThreePointArc((8.81535611, -18.147103113), (9.845400242, -17.458849627), (11.06042014, -17.217167143))
            Line((11.06042014, -17.217167143), (14.33957986, -17.217167143))
            ThreePointArc((14.33957986, -17.217167143), (15.554599758, -17.458849627), (16.58464389, -18.147103113))
            Line((16.58464389, -18.147103113), (19.893320288, -21.45577951))
            ThreePointArc((19.893320288, -21.45577951), (20.113561403, -22.563006367), (19.174899798, -23.1902))
            Line((19.174899798, -23.1902), (17.0561, -23.1902))
            ThreePointArc((17.0561, -23.1902), (15.9512, -24.2951), (17.0561, -25.4))
            Line((17.0561, -25.4), (23.2918, -25.4))
            ThreePointArc((23.2918, -25.4), (24.782522516, -24.782522516), (25.4, -23.2918))
            Line((25.4, -23.2918), (25.4, -17.0561))
            ThreePointArc((25.4, -17.0561), (24.2951, -15.9512), (23.1902, -17.0561))
            Line((23.1902, -17.0561), (23.1902, -19.174899798))
            ThreePointArc((23.1902, -19.174899798), (22.563006367, -20.113561403), (21.45577951, -19.893320288))
            Line((21.45577951, -19.893320288), (18.147103113, -16.58464389))
            ThreePointArc((18.147103113, -16.58464389), (17.458849627, -15.554599758), (17.217167143, -14.33957986))
            Line((17.217167143, -14.33957986), (17.217167143, -11.06042014))
            ThreePointArc((17.217167143, -11.06042014), (17.458849627, -9.845400242), (18.147103113, -8.81535611))
            Line((18.147103113, -8.81535611), (21.45577951, -5.506679712))
            ThreePointArc((21.45577951, -5.506679712), (22.563006367, -5.286438597), (23.1902, -6.225100202))
            Line((23.1902, -6.225100202), (23.1902, -8.3439))
            ThreePointArc((23.1902, -8.3439), (24.2951, -9.4488), (25.4, -8.3439))
            Line((25.4, -8.3439), (25.4, 8.3439))
            ThreePointArc((25.4, 8.3439), (24.2951, 9.4488), (23.1902, 8.3439))
            Line((23.1902, 8.3439), (23.1902, 6.225100202))
            ThreePointArc((23.1902, 6.225100202), (22.563006367, 5.286438597), (21.45577951, 5.506679712))
            Line((21.45577951, 5.506679712), (18.147103113, 8.81535611))
            ThreePointArc((18.147103113, 8.81535611), (17.458849627, 9.845400242), (17.217167143, 11.06042014))
            Line((17.217167143, 11.06042014), (17.217167143, 14.33957986))
            ThreePointArc((17.217167143, 14.33957986), (17.458849627, 15.554599758), (18.147103113, 16.58464389))
            Line((18.147103113, 16.58464389), (21.45577951, 19.893320288))
            ThreePointArc((21.45577951, 19.893320288), (22.563006367, 20.113561403), (23.1902, 19.174899798))
        make_face()
        with BuildLine():
            Line((8.182832857, -10.392632857), (8.182832857, -14.739168105))
            ThreePointArc((8.182832857, -14.739168105), (8.014621848, -15.584821954), (7.535597422, -16.30173267))
            Line((7.535597422, -16.30173267), (2.058651438, -21.778678654))
            ThreePointArc((2.058651438, -21.778678654), (0, -22.6314), (-2.058651438, -21.778678654))
            Line((-2.058651438, -21.778678654), (-7.535597422, -16.30173267))
            ThreePointArc((-7.535597422, -16.30173267), (-8.014621848, -15.584821954), (-8.182832857, -14.739168105))
            Line((-8.182832857, -14.739168105), (-8.182832857, -10.392632857))
            ThreePointArc((-8.182832857, -10.392632857), (-8.830068292, -8.830068292), (-10.392632857, -8.182832857))
            Line((-10.392632857, -8.182832857), (-14.739168105, -8.182832857))
            ThreePointArc((-14.739168105, -8.182832857), (-15.584821954, -8.014621848), (-16.30173267, -7.535597422))
            Line((-16.30173267, -7.535597422), (-21.778678654, -2.058651438))
            ThreePointArc((-21.778678654, -2.058651438), (-22.6314, 0), (-21.778678654, 2.058651438))
            Line((-21.778678654, 2.058651438), (-16.30173267, 7.535597422))
            ThreePointArc((-16.30173267, 7.535597422), (-15.584821954, 8.014621848), (-14.739168105, 8.182832857))
            Line((-14.739168105, 8.182832857), (-10.392632857, 8.182832857))
            ThreePointArc((-10.392632857, 8.182832857), (-8.830068292, 8.830068292), (-8.182832857, 10.392632857))
            Line((-8.182832857, 10.392632857), (-8.182832857, 14.739168105))
            ThreePointArc((-8.182832857, 14.739168105), (-8.014621848, 15.584821954), (-7.535597422, 16.30173267))
            Line((-7.535597422, 16.30173267), (-2.058651438, 21.778678654))
            ThreePointArc((-2.058651438, 21.778678654), (0, 22.6314), (2.058651438, 21.778678654))
            Line((2.058651438, 21.778678654), (7.535597422, 16.30173267))
            ThreePointArc((7.535597422, 16.30173267), (8.014621848, 15.584821954), (8.182832857, 14.739168105))
            Line((8.182832857, 14.739168105), (8.182832857, 10.392632857))
            ThreePointArc((8.182832857, 10.392632857), (8.830068292, 8.830068292), (10.392632857, 8.182832857))
            Line((10.392632857, 8.182832857), (14.739168105, 8.182832857))
            ThreePointArc((14.739168105, 8.182832857), (15.584821954, 8.014621848), (16.30173267, 7.535597422))
            Line((16.30173267, 7.535597422), (21.778678654, 2.058651438))
            ThreePointArc((21.778678654, 2.058651438), (22.6314, 0), (21.778678654, -2.058651438))
            Line((21.778678654, -2.058651438), (16.30173267, -7.535597422))
            ThreePointArc((16.30173267, -7.535597422), (15.584821954, -8.014621848), (14.739168105, -8.182832857))
            Line((14.739168105, -8.182832857), (10.392632857, -8.182832857))
            ThreePointArc((10.392632857, -8.182832857), (8.830068292, -8.830068292), (8.182832857, -10.392632857))
        make_face(mode=Mode.SUBTRACT)
    extrude(amount=-BOSS_EXTRUDE1_DEPTH)


solid = part.part
